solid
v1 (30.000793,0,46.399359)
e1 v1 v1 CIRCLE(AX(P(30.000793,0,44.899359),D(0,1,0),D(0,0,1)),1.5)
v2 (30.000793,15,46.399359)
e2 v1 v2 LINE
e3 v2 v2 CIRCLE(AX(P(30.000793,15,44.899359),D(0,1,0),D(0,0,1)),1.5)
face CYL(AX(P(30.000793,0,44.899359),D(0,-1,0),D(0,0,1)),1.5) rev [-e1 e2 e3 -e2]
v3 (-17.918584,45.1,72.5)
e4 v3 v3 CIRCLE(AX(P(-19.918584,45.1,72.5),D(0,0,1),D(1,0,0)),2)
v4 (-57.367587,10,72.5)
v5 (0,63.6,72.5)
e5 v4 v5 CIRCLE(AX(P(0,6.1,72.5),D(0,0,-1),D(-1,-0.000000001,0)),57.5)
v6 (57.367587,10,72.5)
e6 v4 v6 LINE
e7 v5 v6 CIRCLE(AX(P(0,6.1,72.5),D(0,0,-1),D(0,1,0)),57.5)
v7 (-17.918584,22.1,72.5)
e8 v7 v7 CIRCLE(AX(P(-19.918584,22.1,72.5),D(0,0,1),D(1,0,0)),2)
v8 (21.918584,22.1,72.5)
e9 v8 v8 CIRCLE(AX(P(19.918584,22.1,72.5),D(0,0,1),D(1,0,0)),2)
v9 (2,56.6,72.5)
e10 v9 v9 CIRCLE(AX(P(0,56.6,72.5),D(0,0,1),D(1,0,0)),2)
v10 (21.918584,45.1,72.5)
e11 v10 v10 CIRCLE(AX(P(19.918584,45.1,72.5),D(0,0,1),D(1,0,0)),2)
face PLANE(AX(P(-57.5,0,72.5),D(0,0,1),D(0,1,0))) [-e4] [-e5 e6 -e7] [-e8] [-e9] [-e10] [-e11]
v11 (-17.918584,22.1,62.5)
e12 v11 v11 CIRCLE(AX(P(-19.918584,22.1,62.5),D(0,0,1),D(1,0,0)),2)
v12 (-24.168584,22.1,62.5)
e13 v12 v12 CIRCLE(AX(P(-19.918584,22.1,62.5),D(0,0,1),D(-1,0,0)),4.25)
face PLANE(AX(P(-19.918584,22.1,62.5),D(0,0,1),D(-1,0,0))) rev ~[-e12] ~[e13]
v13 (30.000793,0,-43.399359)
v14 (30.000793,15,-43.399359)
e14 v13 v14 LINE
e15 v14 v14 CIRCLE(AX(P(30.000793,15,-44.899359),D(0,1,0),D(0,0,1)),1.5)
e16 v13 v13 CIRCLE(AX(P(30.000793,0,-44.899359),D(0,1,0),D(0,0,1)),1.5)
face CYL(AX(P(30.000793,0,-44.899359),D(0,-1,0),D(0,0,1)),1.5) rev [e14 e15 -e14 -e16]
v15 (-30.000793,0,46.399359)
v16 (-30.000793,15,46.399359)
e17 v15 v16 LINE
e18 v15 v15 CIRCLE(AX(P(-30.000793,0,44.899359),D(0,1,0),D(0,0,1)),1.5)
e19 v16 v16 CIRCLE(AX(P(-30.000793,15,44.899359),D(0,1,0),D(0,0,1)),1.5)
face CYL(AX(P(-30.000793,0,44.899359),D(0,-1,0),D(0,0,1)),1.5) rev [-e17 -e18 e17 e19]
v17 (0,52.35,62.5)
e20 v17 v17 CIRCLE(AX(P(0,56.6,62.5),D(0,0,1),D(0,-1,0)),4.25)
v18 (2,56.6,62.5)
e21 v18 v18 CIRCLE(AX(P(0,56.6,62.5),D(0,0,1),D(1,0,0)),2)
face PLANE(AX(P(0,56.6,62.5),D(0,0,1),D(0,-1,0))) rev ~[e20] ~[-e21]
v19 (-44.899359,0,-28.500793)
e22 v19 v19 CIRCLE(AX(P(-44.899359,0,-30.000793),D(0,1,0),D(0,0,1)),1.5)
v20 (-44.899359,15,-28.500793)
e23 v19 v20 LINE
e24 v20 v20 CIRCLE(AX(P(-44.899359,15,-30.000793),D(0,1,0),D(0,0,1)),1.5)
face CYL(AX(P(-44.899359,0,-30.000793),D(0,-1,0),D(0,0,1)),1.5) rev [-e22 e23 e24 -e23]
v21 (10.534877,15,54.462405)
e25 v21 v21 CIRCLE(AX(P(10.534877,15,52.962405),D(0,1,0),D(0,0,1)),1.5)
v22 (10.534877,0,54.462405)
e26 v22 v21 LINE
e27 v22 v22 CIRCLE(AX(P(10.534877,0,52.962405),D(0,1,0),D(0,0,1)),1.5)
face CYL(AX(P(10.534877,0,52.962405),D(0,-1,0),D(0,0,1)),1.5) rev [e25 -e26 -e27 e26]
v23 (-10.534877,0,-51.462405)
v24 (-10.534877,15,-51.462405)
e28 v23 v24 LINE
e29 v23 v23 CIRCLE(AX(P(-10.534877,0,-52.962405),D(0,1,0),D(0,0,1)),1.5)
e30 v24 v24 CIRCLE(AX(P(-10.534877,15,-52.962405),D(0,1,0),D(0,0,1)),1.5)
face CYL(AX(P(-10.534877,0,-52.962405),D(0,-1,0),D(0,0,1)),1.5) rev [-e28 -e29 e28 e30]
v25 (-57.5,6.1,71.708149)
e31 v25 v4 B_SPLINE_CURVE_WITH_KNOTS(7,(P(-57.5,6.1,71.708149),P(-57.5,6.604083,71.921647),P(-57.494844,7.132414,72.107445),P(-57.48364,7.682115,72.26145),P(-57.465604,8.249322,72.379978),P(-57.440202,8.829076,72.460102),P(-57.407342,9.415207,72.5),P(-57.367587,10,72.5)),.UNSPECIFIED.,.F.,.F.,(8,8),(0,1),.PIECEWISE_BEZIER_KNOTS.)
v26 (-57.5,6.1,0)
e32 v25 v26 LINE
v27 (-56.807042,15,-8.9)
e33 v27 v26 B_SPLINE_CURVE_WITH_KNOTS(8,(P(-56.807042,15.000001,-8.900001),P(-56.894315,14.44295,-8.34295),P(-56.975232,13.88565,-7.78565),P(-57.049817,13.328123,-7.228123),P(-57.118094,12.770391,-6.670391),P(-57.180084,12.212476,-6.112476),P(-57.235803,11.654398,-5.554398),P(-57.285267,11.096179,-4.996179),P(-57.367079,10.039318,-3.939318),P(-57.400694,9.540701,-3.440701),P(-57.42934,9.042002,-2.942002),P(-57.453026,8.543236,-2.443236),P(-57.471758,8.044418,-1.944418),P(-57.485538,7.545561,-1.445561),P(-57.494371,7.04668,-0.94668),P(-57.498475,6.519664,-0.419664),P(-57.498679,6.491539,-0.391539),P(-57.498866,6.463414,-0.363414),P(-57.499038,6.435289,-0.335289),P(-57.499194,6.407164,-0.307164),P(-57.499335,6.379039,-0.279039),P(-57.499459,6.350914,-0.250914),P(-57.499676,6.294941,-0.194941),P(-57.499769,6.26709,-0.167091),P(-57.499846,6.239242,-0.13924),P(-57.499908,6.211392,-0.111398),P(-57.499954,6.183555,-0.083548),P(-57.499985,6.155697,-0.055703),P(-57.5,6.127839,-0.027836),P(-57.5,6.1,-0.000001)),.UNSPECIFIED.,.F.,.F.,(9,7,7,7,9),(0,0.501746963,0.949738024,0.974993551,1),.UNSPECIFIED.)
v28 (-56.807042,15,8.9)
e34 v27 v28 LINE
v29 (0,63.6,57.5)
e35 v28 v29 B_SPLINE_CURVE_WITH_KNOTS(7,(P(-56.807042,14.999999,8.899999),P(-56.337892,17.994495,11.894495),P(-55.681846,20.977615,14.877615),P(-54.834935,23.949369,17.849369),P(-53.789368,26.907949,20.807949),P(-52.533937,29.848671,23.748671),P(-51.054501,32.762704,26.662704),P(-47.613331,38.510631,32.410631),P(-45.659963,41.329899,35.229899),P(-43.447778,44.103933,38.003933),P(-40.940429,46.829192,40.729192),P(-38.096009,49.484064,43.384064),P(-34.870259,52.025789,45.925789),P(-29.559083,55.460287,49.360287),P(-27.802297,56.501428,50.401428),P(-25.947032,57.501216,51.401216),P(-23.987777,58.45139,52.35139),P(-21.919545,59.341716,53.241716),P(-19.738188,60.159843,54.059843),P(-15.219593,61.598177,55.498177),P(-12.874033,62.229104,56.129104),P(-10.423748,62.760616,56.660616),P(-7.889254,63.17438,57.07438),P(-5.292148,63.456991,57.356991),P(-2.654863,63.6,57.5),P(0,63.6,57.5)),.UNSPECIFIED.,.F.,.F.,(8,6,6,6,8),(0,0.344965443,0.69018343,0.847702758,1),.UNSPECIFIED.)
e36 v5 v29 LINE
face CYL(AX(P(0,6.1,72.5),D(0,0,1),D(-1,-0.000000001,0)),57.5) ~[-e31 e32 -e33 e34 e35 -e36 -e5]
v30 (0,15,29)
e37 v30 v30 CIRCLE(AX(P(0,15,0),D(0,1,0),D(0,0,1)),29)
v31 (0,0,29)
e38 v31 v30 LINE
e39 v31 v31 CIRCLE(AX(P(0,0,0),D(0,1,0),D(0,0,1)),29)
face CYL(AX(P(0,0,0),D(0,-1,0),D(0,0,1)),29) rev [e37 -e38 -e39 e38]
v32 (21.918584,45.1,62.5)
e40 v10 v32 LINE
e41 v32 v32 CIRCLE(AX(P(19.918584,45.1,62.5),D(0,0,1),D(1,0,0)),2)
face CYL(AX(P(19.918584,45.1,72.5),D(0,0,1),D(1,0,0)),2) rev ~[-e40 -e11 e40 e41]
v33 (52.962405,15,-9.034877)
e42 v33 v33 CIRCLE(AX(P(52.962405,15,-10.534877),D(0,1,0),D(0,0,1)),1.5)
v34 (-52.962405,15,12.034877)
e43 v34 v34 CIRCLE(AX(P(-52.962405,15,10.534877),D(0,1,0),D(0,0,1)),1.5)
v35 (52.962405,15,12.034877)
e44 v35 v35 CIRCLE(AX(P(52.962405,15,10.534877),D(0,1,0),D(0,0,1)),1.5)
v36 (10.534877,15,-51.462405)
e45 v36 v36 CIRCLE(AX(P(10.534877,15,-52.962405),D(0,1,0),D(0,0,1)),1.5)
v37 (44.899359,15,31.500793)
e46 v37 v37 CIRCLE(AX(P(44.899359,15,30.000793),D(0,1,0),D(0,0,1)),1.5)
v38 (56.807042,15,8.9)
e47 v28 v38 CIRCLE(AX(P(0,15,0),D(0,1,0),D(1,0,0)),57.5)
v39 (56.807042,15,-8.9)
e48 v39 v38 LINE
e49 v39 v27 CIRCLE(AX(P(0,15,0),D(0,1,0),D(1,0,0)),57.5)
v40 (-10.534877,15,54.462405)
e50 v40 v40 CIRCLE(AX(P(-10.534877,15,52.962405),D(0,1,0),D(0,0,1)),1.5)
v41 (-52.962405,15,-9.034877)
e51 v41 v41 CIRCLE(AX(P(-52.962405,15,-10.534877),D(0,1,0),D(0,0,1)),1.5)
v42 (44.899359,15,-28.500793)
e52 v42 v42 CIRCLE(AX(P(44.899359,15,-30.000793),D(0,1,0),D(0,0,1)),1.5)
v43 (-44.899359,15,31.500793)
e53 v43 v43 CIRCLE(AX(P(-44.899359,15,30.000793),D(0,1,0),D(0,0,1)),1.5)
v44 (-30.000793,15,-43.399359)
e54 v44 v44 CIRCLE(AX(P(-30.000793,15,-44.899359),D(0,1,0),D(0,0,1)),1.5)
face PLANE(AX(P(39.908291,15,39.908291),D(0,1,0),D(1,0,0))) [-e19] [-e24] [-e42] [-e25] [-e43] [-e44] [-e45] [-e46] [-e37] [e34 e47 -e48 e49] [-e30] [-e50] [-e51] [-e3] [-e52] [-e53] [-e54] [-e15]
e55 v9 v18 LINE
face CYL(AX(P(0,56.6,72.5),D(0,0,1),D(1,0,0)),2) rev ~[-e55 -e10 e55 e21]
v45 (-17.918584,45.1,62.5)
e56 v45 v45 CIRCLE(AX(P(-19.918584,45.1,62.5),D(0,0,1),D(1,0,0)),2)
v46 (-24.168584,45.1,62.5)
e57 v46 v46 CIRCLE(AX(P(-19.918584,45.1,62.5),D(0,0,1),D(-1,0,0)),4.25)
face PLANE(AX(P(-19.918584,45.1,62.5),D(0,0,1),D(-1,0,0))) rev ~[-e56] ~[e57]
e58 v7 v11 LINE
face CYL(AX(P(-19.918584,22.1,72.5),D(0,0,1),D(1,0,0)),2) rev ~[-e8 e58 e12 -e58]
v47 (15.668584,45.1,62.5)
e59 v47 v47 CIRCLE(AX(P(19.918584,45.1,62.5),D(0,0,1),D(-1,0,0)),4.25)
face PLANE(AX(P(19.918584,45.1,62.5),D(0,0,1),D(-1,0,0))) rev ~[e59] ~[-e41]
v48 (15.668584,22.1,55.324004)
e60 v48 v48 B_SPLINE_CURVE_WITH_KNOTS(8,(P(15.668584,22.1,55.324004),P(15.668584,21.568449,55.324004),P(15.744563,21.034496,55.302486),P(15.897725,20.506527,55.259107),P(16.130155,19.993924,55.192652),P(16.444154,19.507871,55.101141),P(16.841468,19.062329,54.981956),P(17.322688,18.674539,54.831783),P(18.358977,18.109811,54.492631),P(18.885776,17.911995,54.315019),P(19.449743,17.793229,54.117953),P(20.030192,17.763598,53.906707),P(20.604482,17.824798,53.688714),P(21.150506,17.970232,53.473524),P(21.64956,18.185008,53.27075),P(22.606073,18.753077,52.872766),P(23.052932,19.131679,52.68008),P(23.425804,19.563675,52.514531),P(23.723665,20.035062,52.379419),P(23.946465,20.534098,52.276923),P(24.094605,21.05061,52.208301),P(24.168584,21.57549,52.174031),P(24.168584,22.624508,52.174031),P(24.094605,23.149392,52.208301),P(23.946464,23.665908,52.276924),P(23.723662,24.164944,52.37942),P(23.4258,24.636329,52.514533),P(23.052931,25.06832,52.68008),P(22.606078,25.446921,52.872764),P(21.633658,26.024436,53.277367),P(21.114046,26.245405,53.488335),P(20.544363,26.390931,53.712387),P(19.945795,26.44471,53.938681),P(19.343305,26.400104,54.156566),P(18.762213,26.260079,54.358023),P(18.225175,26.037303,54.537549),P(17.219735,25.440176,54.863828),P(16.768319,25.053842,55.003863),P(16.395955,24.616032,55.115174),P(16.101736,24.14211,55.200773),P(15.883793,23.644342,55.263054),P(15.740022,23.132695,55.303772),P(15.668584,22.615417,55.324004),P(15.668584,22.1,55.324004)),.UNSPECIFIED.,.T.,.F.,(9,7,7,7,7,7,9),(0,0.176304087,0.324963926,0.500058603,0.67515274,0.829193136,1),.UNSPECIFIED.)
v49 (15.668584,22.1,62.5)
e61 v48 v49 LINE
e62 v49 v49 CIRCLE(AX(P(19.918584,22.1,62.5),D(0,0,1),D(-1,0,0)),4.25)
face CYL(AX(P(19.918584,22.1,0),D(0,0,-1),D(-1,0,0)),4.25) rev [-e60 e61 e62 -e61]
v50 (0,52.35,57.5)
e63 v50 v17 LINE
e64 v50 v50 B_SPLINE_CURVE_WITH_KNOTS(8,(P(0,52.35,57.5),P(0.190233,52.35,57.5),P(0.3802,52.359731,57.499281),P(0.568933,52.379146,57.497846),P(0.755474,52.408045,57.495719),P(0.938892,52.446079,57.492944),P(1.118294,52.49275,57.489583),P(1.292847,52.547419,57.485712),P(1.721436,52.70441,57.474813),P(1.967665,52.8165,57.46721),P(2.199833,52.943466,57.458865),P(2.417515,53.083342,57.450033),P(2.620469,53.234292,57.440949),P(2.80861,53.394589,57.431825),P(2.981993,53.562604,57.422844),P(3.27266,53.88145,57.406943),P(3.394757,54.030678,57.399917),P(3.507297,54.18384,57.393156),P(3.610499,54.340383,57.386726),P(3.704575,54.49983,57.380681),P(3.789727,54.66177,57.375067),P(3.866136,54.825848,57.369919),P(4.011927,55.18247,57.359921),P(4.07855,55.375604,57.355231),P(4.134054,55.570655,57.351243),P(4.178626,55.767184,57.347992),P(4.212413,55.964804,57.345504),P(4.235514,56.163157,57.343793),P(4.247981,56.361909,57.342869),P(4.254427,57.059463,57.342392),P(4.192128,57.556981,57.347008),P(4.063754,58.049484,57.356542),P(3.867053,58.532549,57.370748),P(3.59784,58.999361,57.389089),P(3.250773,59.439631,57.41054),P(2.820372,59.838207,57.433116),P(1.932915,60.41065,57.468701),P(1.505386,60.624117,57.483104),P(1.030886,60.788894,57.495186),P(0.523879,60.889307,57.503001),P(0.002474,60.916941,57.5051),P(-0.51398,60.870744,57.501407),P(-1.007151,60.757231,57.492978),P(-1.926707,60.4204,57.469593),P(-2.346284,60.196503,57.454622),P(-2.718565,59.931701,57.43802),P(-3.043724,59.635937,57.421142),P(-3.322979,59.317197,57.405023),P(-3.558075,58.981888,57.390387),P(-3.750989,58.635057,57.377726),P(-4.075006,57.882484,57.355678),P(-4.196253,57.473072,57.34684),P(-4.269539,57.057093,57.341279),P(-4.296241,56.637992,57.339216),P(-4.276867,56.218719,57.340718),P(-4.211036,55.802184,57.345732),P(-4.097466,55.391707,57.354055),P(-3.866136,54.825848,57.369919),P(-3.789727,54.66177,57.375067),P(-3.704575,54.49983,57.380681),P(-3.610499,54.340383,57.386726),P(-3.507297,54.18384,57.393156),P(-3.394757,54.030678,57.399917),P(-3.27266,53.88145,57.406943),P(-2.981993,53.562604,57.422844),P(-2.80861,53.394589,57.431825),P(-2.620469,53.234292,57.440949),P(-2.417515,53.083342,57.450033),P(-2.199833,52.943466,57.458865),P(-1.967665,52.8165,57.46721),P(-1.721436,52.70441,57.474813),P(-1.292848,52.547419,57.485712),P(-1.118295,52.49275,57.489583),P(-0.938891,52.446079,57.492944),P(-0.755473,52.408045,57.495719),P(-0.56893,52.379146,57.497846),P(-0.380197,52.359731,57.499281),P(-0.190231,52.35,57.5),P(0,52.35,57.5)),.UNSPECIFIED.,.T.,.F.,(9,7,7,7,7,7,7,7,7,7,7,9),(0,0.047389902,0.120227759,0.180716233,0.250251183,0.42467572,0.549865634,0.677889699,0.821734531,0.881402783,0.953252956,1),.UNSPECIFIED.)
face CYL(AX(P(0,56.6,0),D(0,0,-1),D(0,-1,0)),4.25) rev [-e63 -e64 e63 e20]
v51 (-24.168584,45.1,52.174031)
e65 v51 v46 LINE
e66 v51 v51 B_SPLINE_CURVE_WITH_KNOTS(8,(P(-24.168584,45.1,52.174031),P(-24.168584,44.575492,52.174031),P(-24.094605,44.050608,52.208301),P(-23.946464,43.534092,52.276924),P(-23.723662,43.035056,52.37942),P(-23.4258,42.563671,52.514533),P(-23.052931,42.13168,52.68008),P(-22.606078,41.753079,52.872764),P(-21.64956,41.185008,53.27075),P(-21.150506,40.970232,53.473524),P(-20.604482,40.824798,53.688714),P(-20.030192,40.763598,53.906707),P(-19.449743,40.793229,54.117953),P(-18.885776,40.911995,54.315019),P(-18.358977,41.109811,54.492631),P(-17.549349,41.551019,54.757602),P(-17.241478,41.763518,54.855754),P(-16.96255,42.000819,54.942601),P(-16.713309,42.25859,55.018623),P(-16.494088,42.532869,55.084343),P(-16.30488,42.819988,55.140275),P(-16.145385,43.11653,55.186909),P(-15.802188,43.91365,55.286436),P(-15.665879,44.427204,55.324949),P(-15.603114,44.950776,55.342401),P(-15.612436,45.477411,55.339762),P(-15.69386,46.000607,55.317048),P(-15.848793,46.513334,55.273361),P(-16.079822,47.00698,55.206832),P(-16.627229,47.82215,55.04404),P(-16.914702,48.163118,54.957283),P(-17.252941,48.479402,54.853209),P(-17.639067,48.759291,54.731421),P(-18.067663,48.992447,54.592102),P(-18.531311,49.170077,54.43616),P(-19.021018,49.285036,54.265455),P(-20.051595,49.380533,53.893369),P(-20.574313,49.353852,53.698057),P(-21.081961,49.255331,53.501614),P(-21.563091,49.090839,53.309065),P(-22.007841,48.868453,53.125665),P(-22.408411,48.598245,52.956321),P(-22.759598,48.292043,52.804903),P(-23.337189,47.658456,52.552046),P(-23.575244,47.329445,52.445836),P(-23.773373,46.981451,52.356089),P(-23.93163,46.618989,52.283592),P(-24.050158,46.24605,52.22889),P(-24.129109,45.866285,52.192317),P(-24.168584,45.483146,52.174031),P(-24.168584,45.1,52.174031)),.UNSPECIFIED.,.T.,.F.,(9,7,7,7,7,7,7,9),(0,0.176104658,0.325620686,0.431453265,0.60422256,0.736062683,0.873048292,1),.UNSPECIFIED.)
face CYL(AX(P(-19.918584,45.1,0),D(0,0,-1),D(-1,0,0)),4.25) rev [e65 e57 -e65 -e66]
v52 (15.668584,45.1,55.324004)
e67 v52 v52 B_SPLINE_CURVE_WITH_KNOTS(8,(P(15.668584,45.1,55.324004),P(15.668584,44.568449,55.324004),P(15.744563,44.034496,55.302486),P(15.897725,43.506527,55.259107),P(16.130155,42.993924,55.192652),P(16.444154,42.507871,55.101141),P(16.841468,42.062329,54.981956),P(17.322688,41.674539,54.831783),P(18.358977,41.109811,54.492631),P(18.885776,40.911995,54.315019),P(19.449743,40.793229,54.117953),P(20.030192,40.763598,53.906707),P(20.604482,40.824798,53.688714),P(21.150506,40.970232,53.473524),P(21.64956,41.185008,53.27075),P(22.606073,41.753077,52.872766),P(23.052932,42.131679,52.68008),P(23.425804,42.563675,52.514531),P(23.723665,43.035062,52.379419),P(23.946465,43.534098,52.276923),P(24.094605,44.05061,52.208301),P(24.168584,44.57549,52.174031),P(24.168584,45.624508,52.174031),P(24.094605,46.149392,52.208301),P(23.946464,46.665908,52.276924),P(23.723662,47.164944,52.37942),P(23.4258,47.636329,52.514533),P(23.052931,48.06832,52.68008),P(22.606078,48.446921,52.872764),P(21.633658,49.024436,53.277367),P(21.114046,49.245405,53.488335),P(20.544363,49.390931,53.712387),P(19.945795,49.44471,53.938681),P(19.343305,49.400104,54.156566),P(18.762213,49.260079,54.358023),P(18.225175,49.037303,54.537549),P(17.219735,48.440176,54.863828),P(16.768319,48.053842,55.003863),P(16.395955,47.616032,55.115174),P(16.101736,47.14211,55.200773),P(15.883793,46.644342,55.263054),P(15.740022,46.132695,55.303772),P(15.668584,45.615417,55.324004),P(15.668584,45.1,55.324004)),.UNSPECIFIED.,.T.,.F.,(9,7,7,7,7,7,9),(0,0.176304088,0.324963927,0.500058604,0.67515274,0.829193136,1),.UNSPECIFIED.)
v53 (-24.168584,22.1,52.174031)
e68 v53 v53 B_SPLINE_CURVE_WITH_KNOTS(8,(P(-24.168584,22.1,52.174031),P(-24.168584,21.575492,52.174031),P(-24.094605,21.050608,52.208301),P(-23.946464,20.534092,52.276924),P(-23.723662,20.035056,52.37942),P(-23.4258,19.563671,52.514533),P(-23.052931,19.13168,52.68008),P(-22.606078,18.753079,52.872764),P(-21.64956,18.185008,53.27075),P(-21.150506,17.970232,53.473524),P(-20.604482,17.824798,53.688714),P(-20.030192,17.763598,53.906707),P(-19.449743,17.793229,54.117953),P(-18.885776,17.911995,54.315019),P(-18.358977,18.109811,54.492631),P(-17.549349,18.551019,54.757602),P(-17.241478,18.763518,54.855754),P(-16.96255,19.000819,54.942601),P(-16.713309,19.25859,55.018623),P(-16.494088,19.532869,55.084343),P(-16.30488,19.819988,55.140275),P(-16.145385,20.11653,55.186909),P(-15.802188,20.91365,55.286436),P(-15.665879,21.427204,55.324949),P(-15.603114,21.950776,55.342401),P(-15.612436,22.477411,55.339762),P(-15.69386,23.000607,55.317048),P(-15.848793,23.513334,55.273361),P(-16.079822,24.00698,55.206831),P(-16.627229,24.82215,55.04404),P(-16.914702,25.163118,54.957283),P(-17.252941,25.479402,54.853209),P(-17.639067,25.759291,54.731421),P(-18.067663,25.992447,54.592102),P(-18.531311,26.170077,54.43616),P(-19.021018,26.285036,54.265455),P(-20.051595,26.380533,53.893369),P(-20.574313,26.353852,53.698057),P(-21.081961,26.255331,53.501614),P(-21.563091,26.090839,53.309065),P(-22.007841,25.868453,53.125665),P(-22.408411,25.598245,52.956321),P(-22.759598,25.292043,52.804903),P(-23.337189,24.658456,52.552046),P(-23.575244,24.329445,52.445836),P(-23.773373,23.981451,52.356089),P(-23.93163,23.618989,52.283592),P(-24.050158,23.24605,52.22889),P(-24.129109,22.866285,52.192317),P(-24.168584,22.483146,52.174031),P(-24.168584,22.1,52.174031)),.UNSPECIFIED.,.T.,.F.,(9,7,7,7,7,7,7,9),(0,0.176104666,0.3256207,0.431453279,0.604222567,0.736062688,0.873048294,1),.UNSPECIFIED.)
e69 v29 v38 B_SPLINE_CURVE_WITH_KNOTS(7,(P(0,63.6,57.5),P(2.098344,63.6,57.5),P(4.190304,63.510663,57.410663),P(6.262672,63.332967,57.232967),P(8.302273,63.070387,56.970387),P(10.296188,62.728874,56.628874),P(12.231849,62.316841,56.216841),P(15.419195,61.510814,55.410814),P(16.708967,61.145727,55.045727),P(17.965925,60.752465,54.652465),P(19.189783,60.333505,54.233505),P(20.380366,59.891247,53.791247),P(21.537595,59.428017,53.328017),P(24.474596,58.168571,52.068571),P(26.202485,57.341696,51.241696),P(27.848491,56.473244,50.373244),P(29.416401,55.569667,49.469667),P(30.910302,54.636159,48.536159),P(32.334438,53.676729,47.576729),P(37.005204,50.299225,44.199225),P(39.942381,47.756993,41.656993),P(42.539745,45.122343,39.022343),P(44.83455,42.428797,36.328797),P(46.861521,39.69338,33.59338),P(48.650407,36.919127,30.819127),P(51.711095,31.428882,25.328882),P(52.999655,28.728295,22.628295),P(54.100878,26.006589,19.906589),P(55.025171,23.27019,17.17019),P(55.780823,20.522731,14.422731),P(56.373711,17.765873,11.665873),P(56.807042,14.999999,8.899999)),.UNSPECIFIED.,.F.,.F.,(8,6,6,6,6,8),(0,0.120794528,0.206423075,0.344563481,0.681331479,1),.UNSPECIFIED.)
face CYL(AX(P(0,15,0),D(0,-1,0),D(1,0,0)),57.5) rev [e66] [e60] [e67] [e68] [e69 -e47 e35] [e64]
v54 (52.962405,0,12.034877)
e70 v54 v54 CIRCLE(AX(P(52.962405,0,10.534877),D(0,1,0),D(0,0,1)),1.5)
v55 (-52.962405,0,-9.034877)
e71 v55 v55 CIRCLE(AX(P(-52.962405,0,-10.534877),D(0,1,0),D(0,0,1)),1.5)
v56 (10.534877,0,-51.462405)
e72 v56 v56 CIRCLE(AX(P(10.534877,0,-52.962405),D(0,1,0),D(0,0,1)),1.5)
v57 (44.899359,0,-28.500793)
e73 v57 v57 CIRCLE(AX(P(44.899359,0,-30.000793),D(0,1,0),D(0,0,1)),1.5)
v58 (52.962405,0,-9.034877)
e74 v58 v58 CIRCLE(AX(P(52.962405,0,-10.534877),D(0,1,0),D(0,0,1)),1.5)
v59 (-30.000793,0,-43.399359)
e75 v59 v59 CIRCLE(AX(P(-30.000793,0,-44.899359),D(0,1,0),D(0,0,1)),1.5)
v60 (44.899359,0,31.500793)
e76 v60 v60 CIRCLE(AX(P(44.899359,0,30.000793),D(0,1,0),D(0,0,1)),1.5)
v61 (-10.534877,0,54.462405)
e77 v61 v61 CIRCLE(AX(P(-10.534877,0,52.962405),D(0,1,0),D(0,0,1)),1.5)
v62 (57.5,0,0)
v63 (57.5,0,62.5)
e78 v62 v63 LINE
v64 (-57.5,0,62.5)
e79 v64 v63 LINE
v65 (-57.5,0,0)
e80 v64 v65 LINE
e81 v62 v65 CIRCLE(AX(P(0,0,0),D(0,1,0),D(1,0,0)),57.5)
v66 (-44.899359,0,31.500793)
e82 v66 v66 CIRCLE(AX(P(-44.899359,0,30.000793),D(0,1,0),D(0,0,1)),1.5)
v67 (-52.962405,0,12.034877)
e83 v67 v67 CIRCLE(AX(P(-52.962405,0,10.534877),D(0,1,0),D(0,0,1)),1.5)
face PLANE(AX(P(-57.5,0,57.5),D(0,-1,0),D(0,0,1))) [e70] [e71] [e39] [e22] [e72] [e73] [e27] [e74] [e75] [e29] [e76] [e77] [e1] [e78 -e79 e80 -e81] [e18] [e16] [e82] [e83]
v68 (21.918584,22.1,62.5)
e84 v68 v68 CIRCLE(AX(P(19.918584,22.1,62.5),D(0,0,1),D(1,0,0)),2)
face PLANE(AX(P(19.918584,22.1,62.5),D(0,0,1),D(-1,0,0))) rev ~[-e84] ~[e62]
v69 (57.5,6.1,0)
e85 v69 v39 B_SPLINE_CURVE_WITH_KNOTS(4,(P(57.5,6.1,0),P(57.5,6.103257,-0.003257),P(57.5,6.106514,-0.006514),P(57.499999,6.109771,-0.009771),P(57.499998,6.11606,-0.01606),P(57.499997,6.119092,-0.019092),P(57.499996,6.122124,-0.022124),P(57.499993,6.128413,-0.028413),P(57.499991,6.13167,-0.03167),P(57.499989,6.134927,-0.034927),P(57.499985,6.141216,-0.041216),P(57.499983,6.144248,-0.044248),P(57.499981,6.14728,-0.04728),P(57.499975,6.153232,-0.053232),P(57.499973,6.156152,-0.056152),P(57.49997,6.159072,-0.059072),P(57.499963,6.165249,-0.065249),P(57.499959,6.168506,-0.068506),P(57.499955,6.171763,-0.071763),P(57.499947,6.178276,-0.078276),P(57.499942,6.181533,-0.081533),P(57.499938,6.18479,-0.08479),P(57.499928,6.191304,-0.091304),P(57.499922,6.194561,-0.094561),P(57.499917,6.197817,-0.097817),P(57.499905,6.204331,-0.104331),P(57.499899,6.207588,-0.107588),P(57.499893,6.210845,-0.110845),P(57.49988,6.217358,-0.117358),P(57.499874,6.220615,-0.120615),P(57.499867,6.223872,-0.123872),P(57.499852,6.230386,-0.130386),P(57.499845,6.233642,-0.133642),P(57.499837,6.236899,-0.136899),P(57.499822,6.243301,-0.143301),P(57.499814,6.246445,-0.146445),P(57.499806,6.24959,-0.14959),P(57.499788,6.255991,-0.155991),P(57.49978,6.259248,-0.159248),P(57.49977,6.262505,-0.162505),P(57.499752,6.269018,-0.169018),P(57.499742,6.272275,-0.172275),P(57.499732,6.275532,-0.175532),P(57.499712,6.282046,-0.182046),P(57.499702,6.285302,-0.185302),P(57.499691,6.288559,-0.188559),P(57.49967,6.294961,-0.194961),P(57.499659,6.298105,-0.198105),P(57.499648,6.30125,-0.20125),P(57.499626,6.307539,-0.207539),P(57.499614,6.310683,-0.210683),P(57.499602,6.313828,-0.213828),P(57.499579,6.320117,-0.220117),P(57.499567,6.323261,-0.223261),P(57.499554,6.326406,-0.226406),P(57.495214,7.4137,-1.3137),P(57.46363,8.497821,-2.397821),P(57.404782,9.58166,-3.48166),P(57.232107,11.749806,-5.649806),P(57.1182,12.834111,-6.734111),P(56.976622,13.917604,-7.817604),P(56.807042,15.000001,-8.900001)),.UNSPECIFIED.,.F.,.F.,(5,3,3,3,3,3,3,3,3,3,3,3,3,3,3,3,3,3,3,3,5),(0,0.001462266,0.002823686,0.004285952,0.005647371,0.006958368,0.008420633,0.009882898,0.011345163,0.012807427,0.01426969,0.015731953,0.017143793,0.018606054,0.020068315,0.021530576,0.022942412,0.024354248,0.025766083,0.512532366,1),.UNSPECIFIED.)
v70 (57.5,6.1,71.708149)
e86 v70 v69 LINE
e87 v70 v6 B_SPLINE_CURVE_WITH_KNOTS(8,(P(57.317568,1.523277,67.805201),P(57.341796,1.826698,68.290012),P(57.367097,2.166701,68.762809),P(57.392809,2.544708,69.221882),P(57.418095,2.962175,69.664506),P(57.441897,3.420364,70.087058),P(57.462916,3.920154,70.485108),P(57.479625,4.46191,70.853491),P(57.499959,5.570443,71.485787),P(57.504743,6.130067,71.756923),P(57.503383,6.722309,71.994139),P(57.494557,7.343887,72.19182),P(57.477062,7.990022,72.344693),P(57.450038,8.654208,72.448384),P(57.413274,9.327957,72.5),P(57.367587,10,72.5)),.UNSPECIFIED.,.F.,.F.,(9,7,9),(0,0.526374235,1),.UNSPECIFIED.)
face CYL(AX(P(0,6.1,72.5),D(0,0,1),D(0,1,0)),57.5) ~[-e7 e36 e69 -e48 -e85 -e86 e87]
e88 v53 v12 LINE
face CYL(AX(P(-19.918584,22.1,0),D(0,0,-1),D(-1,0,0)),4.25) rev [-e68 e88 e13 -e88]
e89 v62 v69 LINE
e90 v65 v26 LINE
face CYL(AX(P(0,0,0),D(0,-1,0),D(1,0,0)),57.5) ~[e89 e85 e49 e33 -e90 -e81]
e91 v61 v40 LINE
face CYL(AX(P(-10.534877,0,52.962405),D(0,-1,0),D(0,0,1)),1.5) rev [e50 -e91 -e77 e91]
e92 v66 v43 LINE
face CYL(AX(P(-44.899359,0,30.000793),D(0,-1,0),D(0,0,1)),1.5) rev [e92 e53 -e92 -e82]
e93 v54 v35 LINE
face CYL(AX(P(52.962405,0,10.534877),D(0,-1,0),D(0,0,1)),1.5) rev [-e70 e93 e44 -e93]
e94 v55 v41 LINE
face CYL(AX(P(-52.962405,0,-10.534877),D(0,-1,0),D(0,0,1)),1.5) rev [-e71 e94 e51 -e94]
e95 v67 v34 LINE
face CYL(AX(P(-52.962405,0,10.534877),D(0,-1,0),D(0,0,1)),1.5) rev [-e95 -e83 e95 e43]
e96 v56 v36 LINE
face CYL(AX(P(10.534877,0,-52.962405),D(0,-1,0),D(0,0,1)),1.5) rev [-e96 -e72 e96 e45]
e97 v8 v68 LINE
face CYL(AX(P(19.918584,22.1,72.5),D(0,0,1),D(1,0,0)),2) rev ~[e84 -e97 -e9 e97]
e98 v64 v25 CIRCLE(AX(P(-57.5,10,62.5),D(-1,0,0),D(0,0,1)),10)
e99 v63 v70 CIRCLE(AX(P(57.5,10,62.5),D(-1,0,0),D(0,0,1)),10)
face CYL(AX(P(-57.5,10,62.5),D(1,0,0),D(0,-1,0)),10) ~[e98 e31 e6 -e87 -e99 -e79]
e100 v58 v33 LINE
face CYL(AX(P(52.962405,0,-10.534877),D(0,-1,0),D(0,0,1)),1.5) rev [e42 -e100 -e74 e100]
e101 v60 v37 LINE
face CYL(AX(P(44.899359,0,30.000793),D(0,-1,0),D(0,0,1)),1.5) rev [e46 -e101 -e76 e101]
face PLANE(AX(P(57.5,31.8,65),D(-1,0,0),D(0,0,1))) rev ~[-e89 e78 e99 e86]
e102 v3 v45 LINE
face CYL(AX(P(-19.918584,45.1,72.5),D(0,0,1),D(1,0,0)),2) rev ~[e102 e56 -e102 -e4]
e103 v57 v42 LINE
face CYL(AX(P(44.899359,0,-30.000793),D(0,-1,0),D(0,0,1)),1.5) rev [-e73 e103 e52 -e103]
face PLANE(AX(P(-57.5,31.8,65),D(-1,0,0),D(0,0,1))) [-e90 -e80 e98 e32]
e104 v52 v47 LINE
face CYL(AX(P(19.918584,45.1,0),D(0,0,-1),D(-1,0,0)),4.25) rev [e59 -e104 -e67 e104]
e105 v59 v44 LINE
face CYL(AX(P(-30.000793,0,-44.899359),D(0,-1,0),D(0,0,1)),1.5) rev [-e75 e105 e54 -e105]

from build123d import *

# Parameters (mm, degrees)
SKETCH1_R           = 57.5
SKETCH1_R_2         = 1.5
SKETCH1_R_3         = 29
BOSS_EXTRUDE1_DEPTH = 15
BOSS_EXTRUDE2_DEPTH = 115
CUT_EXTRUDE1_START  = -48.6
SKETCH3_R           = 57.5
CUT_EXTRUDE1_DEPTH  = 48.6
SKETCH5_R           = 2
CUT_EXTRUDE3_DEPTH  = 75.6
SKETCH6_R           = 4.25
CUT_EXTRUDE4_DEPTH  = 62.5
CUT_EXTRUDE2_DEPTH  = 132.6
FILLET1_R           = 10


with BuildPart() as part:
    # Sketch1 → Boss-Extrude1 (new body)
    # profile 1 of 3: a face of its own
    with BuildSketch(Plane(origin=(0, 0, 0), x_dir=(1, 0, 0), z_dir=(0, 1, 0))):
        Circle(SKETCH1_R)
        with Locations(Location((-30.000792583, 44.899359064, 0), (0, 0, 270))):
            Circle(SKETCH1_R_2, mode=Mode.SUBTRACT)
        with Locations(Location((-44.899359064, 30.000792583, 0), (0, 0, 270))):
            Circle(SKETCH1_R_2, mode=Mode.SUBTRACT)
        with Locations(Location((-52.962405142, 10.534877389, 0), (0, 0, 270))):
            Circle(SKETCH1_R_2, mode=Mode.SUBTRACT)
        with Locations(Location((-52.962405142, -10.534877389, 0), (0, 0, 270))):
            Circle(SKETCH1_R_2, mode=Mode.SUBTRACT)
        with Locations(Location((-44.899359064, -30.000792583, 0), (0, 0, 270))):
            Circle(SKETCH1_R_2, mode=Mode.SUBTRACT)
        with Locations(Location((-30.000792583, -44.899359064, 0), (0, 0, 270))):
            Circle(SKETCH1_R_2, mode=Mode.SUBTRACT)
        with Locations(Location((-10.534877389, -52.962405142, 0), (0, 0, 270))):
            Circle(SKETCH1_R_2, mode=Mode.SUBTRACT)
        with Locations(Location((10.534877389, -52.962405142, 0), (0, 0, 270))):
            Circle(SKETCH1_R_2, mode=Mode.SUBTRACT)
        with Locations(Location((30.000792583, -44.899359064, 0), (0, 0, 270))):
            Circle(SKETCH1_R_2, mode=Mode.SUBTRACT)
        with Locations(Location((44.899359064, -30.000792583, 0), (0, 0, 270))):
            Circle(SKETCH1_R_2, mode=Mode.SUBTRACT)
        with Locations(Location((52.962405142, -10.534877389, 0), (0, 0, 270))):
            Circle(SKETCH1_R_2, mode=Mode.SUBTRACT)
        with Locations(Location((52.962405142, 10.534877389, 0), (0, 0, 270))):
            Circle(SKETCH1_R_2, mode=Mode.SUBTRACT)
        with Locations(Location((44.899359064, 30.000792583, 0), (0, 0, 270))):
            Circle(SKETCH1_R_2, mode=Mode.SUBTRACT)
        with Locations(Location((30.000792583, 44.899359064, 0), (0, 0, 270))):
            Circle(SKETCH1_R_2, mode=Mode.SUBTRACT)
        with Locations(Location((10.534877389, 52.962405142, 0), (0, 0, 270))):
            Circle(SKETCH1_R_2, mode=Mode.SUBTRACT)
        with Locations(Location((-10.534877389, 52.962405142, 0), (0, 0, 270))):
            Circle(SKETCH1_R_2, mode=Mode.SUBTRACT)
        with Locations(Location((0, 0, 0), (0, 0, 270))):
            Circle(SKETCH1_R_3, mode=Mode.SUBTRACT)
    # profile 2 of 3: a face of its own
    with BuildSketch(Plane(origin=(0, 0, 0), x_dir=(1, 0, 0), z_dir=(0, 1, 0))):
        with BuildLine():
            ThreePointArc((2.7e-08, -57.5), (-40.658639909, -40.658639928), (-57.5, 0))
            Line((-57.5, 0), (-57.5, -57.5))
            Line((-57.5, -57.5), (2.7e-08, -57.5))
        make_face()
    # profile 3 of 3: a face of its own
    with BuildSketch(Plane(origin=(0, 0, 0), x_dir=(1, 0, 0), z_dir=(0, 1, 0))):
        with BuildLine():
            Line((57.5, -57.5), (57.5, 0))
            ThreePointArc((57.5, 0), (40.658639928, -40.658639909), (2.7e-08, -57.5))
            Line((2.7e-08, -57.5), (57.5, -57.5))
        make_face()
    extrude(amount=BOSS_EXTRUDE1_DEPTH)

    # Sketch2 → Boss-Extrude2 (add)
    with BuildSketch(Plane.ZY.offset(57.5)):
        Polygon((57.5, 15), (57.5, 0), (72.5, 0), (72.5, 63.6), (57.5, 63.6), align=None)
        Polygon((0, 15), (57.5, 15), (57.5, 63.6), align=None)
    extrude(amount=-BOSS_EXTRUDE2_DEPTH)

    # Sketch3 → Cut-Extrude1 (cut)
    with BuildSketch(Plane(origin=(0, 63.6, 0), x_dir=(1, 0, 0), z_dir=(0, 1, 0)).offset(CUT_EXTRUDE1_START)):
        Circle(SKETCH3_R)
    extrude(amount=CUT_EXTRUDE1_DEPTH, mode=Mode.SUBTRACT)

    # Sketch5 → Cut-Extrude3 (cut)
    with BuildSketch(Plane.XY.offset(72.5)):
        with Locations((0, 56.6)):
            Circle(SKETCH5_R)
        with Locations((-19.918584287, 45.1)):
            Circle(SKETCH5_R)
        with Locations((-19.918584287, 22.1)):
            Circle(SKETCH5_R)
        with Locations((19.918584287, 22.1)):
            Circle(SKETCH5_R)
        with Locations((19.918584287, 45.1)):
            Circle(SKETCH5_R)
    extrude(amount=-CUT_EXTRUDE3_DEPTH, mode=Mode.SUBTRACT)

    # Sketch6 → Cut-Extrude4 (cut)
    with BuildSketch(Plane.XY):
        with Locations(Location((0, 56.6, 0), (0, 0, 270))):
            Circle(SKETCH6_R)
        with Locations(Location((19.918584287, 45.1, 0), (0, 0, 180))):
            Circle(SKETCH6_R)
        with Locations(Location((19.918584287, 22.1, 0), (0, 0, 180))):
            Circle(SKETCH6_R)
        with Locations(Location((-19.918584287, 22.1, 0), (0, 0, 180))):
            Circle(SKETCH6_R)
        with Locations(Location((-19.918584287, 45.1, 0), (0, 0, 180))):
            Circle(SKETCH6_R)
    extrude(amount=CUT_EXTRUDE4_DEPTH, mode=Mode.SUBTRACT)

    # Sketch4 → Cut-Extrude2 (cut)
    with BuildSketch(Plane.XY.offset(72.5)):
        with BuildLine():
            Line((-57.5, 63.6), (-57.5, 6.099999962))
            ThreePointArc((-57.5, 6.099999962), (-40.658639932, 46.758639905), (0, 63.6))
            Line((0, 63.6), (-57.5, 63.6))
        make_face()
        with BuildLine():
            Line((57.5, 63.6), (0, 63.6))
            ThreePointArc((0, 63.6), (40.658639918, 46.758639918), (57.5, 6.1))
            Line((57.5, 6.1), (57.5, 63.6))
        make_face()
    extrude(amount=-CUT_EXTRUDE2_DEPTH, mode=Mode.SUBTRACT)

    # Fillet1
    fillet1_edges = [part.edges().sort_by_distance(p)[0] for p in [
        (0, 0, 72.5),
    ]]
    fillet(fillet1_edges, radius=FILLET1_R)


solid = part.part
